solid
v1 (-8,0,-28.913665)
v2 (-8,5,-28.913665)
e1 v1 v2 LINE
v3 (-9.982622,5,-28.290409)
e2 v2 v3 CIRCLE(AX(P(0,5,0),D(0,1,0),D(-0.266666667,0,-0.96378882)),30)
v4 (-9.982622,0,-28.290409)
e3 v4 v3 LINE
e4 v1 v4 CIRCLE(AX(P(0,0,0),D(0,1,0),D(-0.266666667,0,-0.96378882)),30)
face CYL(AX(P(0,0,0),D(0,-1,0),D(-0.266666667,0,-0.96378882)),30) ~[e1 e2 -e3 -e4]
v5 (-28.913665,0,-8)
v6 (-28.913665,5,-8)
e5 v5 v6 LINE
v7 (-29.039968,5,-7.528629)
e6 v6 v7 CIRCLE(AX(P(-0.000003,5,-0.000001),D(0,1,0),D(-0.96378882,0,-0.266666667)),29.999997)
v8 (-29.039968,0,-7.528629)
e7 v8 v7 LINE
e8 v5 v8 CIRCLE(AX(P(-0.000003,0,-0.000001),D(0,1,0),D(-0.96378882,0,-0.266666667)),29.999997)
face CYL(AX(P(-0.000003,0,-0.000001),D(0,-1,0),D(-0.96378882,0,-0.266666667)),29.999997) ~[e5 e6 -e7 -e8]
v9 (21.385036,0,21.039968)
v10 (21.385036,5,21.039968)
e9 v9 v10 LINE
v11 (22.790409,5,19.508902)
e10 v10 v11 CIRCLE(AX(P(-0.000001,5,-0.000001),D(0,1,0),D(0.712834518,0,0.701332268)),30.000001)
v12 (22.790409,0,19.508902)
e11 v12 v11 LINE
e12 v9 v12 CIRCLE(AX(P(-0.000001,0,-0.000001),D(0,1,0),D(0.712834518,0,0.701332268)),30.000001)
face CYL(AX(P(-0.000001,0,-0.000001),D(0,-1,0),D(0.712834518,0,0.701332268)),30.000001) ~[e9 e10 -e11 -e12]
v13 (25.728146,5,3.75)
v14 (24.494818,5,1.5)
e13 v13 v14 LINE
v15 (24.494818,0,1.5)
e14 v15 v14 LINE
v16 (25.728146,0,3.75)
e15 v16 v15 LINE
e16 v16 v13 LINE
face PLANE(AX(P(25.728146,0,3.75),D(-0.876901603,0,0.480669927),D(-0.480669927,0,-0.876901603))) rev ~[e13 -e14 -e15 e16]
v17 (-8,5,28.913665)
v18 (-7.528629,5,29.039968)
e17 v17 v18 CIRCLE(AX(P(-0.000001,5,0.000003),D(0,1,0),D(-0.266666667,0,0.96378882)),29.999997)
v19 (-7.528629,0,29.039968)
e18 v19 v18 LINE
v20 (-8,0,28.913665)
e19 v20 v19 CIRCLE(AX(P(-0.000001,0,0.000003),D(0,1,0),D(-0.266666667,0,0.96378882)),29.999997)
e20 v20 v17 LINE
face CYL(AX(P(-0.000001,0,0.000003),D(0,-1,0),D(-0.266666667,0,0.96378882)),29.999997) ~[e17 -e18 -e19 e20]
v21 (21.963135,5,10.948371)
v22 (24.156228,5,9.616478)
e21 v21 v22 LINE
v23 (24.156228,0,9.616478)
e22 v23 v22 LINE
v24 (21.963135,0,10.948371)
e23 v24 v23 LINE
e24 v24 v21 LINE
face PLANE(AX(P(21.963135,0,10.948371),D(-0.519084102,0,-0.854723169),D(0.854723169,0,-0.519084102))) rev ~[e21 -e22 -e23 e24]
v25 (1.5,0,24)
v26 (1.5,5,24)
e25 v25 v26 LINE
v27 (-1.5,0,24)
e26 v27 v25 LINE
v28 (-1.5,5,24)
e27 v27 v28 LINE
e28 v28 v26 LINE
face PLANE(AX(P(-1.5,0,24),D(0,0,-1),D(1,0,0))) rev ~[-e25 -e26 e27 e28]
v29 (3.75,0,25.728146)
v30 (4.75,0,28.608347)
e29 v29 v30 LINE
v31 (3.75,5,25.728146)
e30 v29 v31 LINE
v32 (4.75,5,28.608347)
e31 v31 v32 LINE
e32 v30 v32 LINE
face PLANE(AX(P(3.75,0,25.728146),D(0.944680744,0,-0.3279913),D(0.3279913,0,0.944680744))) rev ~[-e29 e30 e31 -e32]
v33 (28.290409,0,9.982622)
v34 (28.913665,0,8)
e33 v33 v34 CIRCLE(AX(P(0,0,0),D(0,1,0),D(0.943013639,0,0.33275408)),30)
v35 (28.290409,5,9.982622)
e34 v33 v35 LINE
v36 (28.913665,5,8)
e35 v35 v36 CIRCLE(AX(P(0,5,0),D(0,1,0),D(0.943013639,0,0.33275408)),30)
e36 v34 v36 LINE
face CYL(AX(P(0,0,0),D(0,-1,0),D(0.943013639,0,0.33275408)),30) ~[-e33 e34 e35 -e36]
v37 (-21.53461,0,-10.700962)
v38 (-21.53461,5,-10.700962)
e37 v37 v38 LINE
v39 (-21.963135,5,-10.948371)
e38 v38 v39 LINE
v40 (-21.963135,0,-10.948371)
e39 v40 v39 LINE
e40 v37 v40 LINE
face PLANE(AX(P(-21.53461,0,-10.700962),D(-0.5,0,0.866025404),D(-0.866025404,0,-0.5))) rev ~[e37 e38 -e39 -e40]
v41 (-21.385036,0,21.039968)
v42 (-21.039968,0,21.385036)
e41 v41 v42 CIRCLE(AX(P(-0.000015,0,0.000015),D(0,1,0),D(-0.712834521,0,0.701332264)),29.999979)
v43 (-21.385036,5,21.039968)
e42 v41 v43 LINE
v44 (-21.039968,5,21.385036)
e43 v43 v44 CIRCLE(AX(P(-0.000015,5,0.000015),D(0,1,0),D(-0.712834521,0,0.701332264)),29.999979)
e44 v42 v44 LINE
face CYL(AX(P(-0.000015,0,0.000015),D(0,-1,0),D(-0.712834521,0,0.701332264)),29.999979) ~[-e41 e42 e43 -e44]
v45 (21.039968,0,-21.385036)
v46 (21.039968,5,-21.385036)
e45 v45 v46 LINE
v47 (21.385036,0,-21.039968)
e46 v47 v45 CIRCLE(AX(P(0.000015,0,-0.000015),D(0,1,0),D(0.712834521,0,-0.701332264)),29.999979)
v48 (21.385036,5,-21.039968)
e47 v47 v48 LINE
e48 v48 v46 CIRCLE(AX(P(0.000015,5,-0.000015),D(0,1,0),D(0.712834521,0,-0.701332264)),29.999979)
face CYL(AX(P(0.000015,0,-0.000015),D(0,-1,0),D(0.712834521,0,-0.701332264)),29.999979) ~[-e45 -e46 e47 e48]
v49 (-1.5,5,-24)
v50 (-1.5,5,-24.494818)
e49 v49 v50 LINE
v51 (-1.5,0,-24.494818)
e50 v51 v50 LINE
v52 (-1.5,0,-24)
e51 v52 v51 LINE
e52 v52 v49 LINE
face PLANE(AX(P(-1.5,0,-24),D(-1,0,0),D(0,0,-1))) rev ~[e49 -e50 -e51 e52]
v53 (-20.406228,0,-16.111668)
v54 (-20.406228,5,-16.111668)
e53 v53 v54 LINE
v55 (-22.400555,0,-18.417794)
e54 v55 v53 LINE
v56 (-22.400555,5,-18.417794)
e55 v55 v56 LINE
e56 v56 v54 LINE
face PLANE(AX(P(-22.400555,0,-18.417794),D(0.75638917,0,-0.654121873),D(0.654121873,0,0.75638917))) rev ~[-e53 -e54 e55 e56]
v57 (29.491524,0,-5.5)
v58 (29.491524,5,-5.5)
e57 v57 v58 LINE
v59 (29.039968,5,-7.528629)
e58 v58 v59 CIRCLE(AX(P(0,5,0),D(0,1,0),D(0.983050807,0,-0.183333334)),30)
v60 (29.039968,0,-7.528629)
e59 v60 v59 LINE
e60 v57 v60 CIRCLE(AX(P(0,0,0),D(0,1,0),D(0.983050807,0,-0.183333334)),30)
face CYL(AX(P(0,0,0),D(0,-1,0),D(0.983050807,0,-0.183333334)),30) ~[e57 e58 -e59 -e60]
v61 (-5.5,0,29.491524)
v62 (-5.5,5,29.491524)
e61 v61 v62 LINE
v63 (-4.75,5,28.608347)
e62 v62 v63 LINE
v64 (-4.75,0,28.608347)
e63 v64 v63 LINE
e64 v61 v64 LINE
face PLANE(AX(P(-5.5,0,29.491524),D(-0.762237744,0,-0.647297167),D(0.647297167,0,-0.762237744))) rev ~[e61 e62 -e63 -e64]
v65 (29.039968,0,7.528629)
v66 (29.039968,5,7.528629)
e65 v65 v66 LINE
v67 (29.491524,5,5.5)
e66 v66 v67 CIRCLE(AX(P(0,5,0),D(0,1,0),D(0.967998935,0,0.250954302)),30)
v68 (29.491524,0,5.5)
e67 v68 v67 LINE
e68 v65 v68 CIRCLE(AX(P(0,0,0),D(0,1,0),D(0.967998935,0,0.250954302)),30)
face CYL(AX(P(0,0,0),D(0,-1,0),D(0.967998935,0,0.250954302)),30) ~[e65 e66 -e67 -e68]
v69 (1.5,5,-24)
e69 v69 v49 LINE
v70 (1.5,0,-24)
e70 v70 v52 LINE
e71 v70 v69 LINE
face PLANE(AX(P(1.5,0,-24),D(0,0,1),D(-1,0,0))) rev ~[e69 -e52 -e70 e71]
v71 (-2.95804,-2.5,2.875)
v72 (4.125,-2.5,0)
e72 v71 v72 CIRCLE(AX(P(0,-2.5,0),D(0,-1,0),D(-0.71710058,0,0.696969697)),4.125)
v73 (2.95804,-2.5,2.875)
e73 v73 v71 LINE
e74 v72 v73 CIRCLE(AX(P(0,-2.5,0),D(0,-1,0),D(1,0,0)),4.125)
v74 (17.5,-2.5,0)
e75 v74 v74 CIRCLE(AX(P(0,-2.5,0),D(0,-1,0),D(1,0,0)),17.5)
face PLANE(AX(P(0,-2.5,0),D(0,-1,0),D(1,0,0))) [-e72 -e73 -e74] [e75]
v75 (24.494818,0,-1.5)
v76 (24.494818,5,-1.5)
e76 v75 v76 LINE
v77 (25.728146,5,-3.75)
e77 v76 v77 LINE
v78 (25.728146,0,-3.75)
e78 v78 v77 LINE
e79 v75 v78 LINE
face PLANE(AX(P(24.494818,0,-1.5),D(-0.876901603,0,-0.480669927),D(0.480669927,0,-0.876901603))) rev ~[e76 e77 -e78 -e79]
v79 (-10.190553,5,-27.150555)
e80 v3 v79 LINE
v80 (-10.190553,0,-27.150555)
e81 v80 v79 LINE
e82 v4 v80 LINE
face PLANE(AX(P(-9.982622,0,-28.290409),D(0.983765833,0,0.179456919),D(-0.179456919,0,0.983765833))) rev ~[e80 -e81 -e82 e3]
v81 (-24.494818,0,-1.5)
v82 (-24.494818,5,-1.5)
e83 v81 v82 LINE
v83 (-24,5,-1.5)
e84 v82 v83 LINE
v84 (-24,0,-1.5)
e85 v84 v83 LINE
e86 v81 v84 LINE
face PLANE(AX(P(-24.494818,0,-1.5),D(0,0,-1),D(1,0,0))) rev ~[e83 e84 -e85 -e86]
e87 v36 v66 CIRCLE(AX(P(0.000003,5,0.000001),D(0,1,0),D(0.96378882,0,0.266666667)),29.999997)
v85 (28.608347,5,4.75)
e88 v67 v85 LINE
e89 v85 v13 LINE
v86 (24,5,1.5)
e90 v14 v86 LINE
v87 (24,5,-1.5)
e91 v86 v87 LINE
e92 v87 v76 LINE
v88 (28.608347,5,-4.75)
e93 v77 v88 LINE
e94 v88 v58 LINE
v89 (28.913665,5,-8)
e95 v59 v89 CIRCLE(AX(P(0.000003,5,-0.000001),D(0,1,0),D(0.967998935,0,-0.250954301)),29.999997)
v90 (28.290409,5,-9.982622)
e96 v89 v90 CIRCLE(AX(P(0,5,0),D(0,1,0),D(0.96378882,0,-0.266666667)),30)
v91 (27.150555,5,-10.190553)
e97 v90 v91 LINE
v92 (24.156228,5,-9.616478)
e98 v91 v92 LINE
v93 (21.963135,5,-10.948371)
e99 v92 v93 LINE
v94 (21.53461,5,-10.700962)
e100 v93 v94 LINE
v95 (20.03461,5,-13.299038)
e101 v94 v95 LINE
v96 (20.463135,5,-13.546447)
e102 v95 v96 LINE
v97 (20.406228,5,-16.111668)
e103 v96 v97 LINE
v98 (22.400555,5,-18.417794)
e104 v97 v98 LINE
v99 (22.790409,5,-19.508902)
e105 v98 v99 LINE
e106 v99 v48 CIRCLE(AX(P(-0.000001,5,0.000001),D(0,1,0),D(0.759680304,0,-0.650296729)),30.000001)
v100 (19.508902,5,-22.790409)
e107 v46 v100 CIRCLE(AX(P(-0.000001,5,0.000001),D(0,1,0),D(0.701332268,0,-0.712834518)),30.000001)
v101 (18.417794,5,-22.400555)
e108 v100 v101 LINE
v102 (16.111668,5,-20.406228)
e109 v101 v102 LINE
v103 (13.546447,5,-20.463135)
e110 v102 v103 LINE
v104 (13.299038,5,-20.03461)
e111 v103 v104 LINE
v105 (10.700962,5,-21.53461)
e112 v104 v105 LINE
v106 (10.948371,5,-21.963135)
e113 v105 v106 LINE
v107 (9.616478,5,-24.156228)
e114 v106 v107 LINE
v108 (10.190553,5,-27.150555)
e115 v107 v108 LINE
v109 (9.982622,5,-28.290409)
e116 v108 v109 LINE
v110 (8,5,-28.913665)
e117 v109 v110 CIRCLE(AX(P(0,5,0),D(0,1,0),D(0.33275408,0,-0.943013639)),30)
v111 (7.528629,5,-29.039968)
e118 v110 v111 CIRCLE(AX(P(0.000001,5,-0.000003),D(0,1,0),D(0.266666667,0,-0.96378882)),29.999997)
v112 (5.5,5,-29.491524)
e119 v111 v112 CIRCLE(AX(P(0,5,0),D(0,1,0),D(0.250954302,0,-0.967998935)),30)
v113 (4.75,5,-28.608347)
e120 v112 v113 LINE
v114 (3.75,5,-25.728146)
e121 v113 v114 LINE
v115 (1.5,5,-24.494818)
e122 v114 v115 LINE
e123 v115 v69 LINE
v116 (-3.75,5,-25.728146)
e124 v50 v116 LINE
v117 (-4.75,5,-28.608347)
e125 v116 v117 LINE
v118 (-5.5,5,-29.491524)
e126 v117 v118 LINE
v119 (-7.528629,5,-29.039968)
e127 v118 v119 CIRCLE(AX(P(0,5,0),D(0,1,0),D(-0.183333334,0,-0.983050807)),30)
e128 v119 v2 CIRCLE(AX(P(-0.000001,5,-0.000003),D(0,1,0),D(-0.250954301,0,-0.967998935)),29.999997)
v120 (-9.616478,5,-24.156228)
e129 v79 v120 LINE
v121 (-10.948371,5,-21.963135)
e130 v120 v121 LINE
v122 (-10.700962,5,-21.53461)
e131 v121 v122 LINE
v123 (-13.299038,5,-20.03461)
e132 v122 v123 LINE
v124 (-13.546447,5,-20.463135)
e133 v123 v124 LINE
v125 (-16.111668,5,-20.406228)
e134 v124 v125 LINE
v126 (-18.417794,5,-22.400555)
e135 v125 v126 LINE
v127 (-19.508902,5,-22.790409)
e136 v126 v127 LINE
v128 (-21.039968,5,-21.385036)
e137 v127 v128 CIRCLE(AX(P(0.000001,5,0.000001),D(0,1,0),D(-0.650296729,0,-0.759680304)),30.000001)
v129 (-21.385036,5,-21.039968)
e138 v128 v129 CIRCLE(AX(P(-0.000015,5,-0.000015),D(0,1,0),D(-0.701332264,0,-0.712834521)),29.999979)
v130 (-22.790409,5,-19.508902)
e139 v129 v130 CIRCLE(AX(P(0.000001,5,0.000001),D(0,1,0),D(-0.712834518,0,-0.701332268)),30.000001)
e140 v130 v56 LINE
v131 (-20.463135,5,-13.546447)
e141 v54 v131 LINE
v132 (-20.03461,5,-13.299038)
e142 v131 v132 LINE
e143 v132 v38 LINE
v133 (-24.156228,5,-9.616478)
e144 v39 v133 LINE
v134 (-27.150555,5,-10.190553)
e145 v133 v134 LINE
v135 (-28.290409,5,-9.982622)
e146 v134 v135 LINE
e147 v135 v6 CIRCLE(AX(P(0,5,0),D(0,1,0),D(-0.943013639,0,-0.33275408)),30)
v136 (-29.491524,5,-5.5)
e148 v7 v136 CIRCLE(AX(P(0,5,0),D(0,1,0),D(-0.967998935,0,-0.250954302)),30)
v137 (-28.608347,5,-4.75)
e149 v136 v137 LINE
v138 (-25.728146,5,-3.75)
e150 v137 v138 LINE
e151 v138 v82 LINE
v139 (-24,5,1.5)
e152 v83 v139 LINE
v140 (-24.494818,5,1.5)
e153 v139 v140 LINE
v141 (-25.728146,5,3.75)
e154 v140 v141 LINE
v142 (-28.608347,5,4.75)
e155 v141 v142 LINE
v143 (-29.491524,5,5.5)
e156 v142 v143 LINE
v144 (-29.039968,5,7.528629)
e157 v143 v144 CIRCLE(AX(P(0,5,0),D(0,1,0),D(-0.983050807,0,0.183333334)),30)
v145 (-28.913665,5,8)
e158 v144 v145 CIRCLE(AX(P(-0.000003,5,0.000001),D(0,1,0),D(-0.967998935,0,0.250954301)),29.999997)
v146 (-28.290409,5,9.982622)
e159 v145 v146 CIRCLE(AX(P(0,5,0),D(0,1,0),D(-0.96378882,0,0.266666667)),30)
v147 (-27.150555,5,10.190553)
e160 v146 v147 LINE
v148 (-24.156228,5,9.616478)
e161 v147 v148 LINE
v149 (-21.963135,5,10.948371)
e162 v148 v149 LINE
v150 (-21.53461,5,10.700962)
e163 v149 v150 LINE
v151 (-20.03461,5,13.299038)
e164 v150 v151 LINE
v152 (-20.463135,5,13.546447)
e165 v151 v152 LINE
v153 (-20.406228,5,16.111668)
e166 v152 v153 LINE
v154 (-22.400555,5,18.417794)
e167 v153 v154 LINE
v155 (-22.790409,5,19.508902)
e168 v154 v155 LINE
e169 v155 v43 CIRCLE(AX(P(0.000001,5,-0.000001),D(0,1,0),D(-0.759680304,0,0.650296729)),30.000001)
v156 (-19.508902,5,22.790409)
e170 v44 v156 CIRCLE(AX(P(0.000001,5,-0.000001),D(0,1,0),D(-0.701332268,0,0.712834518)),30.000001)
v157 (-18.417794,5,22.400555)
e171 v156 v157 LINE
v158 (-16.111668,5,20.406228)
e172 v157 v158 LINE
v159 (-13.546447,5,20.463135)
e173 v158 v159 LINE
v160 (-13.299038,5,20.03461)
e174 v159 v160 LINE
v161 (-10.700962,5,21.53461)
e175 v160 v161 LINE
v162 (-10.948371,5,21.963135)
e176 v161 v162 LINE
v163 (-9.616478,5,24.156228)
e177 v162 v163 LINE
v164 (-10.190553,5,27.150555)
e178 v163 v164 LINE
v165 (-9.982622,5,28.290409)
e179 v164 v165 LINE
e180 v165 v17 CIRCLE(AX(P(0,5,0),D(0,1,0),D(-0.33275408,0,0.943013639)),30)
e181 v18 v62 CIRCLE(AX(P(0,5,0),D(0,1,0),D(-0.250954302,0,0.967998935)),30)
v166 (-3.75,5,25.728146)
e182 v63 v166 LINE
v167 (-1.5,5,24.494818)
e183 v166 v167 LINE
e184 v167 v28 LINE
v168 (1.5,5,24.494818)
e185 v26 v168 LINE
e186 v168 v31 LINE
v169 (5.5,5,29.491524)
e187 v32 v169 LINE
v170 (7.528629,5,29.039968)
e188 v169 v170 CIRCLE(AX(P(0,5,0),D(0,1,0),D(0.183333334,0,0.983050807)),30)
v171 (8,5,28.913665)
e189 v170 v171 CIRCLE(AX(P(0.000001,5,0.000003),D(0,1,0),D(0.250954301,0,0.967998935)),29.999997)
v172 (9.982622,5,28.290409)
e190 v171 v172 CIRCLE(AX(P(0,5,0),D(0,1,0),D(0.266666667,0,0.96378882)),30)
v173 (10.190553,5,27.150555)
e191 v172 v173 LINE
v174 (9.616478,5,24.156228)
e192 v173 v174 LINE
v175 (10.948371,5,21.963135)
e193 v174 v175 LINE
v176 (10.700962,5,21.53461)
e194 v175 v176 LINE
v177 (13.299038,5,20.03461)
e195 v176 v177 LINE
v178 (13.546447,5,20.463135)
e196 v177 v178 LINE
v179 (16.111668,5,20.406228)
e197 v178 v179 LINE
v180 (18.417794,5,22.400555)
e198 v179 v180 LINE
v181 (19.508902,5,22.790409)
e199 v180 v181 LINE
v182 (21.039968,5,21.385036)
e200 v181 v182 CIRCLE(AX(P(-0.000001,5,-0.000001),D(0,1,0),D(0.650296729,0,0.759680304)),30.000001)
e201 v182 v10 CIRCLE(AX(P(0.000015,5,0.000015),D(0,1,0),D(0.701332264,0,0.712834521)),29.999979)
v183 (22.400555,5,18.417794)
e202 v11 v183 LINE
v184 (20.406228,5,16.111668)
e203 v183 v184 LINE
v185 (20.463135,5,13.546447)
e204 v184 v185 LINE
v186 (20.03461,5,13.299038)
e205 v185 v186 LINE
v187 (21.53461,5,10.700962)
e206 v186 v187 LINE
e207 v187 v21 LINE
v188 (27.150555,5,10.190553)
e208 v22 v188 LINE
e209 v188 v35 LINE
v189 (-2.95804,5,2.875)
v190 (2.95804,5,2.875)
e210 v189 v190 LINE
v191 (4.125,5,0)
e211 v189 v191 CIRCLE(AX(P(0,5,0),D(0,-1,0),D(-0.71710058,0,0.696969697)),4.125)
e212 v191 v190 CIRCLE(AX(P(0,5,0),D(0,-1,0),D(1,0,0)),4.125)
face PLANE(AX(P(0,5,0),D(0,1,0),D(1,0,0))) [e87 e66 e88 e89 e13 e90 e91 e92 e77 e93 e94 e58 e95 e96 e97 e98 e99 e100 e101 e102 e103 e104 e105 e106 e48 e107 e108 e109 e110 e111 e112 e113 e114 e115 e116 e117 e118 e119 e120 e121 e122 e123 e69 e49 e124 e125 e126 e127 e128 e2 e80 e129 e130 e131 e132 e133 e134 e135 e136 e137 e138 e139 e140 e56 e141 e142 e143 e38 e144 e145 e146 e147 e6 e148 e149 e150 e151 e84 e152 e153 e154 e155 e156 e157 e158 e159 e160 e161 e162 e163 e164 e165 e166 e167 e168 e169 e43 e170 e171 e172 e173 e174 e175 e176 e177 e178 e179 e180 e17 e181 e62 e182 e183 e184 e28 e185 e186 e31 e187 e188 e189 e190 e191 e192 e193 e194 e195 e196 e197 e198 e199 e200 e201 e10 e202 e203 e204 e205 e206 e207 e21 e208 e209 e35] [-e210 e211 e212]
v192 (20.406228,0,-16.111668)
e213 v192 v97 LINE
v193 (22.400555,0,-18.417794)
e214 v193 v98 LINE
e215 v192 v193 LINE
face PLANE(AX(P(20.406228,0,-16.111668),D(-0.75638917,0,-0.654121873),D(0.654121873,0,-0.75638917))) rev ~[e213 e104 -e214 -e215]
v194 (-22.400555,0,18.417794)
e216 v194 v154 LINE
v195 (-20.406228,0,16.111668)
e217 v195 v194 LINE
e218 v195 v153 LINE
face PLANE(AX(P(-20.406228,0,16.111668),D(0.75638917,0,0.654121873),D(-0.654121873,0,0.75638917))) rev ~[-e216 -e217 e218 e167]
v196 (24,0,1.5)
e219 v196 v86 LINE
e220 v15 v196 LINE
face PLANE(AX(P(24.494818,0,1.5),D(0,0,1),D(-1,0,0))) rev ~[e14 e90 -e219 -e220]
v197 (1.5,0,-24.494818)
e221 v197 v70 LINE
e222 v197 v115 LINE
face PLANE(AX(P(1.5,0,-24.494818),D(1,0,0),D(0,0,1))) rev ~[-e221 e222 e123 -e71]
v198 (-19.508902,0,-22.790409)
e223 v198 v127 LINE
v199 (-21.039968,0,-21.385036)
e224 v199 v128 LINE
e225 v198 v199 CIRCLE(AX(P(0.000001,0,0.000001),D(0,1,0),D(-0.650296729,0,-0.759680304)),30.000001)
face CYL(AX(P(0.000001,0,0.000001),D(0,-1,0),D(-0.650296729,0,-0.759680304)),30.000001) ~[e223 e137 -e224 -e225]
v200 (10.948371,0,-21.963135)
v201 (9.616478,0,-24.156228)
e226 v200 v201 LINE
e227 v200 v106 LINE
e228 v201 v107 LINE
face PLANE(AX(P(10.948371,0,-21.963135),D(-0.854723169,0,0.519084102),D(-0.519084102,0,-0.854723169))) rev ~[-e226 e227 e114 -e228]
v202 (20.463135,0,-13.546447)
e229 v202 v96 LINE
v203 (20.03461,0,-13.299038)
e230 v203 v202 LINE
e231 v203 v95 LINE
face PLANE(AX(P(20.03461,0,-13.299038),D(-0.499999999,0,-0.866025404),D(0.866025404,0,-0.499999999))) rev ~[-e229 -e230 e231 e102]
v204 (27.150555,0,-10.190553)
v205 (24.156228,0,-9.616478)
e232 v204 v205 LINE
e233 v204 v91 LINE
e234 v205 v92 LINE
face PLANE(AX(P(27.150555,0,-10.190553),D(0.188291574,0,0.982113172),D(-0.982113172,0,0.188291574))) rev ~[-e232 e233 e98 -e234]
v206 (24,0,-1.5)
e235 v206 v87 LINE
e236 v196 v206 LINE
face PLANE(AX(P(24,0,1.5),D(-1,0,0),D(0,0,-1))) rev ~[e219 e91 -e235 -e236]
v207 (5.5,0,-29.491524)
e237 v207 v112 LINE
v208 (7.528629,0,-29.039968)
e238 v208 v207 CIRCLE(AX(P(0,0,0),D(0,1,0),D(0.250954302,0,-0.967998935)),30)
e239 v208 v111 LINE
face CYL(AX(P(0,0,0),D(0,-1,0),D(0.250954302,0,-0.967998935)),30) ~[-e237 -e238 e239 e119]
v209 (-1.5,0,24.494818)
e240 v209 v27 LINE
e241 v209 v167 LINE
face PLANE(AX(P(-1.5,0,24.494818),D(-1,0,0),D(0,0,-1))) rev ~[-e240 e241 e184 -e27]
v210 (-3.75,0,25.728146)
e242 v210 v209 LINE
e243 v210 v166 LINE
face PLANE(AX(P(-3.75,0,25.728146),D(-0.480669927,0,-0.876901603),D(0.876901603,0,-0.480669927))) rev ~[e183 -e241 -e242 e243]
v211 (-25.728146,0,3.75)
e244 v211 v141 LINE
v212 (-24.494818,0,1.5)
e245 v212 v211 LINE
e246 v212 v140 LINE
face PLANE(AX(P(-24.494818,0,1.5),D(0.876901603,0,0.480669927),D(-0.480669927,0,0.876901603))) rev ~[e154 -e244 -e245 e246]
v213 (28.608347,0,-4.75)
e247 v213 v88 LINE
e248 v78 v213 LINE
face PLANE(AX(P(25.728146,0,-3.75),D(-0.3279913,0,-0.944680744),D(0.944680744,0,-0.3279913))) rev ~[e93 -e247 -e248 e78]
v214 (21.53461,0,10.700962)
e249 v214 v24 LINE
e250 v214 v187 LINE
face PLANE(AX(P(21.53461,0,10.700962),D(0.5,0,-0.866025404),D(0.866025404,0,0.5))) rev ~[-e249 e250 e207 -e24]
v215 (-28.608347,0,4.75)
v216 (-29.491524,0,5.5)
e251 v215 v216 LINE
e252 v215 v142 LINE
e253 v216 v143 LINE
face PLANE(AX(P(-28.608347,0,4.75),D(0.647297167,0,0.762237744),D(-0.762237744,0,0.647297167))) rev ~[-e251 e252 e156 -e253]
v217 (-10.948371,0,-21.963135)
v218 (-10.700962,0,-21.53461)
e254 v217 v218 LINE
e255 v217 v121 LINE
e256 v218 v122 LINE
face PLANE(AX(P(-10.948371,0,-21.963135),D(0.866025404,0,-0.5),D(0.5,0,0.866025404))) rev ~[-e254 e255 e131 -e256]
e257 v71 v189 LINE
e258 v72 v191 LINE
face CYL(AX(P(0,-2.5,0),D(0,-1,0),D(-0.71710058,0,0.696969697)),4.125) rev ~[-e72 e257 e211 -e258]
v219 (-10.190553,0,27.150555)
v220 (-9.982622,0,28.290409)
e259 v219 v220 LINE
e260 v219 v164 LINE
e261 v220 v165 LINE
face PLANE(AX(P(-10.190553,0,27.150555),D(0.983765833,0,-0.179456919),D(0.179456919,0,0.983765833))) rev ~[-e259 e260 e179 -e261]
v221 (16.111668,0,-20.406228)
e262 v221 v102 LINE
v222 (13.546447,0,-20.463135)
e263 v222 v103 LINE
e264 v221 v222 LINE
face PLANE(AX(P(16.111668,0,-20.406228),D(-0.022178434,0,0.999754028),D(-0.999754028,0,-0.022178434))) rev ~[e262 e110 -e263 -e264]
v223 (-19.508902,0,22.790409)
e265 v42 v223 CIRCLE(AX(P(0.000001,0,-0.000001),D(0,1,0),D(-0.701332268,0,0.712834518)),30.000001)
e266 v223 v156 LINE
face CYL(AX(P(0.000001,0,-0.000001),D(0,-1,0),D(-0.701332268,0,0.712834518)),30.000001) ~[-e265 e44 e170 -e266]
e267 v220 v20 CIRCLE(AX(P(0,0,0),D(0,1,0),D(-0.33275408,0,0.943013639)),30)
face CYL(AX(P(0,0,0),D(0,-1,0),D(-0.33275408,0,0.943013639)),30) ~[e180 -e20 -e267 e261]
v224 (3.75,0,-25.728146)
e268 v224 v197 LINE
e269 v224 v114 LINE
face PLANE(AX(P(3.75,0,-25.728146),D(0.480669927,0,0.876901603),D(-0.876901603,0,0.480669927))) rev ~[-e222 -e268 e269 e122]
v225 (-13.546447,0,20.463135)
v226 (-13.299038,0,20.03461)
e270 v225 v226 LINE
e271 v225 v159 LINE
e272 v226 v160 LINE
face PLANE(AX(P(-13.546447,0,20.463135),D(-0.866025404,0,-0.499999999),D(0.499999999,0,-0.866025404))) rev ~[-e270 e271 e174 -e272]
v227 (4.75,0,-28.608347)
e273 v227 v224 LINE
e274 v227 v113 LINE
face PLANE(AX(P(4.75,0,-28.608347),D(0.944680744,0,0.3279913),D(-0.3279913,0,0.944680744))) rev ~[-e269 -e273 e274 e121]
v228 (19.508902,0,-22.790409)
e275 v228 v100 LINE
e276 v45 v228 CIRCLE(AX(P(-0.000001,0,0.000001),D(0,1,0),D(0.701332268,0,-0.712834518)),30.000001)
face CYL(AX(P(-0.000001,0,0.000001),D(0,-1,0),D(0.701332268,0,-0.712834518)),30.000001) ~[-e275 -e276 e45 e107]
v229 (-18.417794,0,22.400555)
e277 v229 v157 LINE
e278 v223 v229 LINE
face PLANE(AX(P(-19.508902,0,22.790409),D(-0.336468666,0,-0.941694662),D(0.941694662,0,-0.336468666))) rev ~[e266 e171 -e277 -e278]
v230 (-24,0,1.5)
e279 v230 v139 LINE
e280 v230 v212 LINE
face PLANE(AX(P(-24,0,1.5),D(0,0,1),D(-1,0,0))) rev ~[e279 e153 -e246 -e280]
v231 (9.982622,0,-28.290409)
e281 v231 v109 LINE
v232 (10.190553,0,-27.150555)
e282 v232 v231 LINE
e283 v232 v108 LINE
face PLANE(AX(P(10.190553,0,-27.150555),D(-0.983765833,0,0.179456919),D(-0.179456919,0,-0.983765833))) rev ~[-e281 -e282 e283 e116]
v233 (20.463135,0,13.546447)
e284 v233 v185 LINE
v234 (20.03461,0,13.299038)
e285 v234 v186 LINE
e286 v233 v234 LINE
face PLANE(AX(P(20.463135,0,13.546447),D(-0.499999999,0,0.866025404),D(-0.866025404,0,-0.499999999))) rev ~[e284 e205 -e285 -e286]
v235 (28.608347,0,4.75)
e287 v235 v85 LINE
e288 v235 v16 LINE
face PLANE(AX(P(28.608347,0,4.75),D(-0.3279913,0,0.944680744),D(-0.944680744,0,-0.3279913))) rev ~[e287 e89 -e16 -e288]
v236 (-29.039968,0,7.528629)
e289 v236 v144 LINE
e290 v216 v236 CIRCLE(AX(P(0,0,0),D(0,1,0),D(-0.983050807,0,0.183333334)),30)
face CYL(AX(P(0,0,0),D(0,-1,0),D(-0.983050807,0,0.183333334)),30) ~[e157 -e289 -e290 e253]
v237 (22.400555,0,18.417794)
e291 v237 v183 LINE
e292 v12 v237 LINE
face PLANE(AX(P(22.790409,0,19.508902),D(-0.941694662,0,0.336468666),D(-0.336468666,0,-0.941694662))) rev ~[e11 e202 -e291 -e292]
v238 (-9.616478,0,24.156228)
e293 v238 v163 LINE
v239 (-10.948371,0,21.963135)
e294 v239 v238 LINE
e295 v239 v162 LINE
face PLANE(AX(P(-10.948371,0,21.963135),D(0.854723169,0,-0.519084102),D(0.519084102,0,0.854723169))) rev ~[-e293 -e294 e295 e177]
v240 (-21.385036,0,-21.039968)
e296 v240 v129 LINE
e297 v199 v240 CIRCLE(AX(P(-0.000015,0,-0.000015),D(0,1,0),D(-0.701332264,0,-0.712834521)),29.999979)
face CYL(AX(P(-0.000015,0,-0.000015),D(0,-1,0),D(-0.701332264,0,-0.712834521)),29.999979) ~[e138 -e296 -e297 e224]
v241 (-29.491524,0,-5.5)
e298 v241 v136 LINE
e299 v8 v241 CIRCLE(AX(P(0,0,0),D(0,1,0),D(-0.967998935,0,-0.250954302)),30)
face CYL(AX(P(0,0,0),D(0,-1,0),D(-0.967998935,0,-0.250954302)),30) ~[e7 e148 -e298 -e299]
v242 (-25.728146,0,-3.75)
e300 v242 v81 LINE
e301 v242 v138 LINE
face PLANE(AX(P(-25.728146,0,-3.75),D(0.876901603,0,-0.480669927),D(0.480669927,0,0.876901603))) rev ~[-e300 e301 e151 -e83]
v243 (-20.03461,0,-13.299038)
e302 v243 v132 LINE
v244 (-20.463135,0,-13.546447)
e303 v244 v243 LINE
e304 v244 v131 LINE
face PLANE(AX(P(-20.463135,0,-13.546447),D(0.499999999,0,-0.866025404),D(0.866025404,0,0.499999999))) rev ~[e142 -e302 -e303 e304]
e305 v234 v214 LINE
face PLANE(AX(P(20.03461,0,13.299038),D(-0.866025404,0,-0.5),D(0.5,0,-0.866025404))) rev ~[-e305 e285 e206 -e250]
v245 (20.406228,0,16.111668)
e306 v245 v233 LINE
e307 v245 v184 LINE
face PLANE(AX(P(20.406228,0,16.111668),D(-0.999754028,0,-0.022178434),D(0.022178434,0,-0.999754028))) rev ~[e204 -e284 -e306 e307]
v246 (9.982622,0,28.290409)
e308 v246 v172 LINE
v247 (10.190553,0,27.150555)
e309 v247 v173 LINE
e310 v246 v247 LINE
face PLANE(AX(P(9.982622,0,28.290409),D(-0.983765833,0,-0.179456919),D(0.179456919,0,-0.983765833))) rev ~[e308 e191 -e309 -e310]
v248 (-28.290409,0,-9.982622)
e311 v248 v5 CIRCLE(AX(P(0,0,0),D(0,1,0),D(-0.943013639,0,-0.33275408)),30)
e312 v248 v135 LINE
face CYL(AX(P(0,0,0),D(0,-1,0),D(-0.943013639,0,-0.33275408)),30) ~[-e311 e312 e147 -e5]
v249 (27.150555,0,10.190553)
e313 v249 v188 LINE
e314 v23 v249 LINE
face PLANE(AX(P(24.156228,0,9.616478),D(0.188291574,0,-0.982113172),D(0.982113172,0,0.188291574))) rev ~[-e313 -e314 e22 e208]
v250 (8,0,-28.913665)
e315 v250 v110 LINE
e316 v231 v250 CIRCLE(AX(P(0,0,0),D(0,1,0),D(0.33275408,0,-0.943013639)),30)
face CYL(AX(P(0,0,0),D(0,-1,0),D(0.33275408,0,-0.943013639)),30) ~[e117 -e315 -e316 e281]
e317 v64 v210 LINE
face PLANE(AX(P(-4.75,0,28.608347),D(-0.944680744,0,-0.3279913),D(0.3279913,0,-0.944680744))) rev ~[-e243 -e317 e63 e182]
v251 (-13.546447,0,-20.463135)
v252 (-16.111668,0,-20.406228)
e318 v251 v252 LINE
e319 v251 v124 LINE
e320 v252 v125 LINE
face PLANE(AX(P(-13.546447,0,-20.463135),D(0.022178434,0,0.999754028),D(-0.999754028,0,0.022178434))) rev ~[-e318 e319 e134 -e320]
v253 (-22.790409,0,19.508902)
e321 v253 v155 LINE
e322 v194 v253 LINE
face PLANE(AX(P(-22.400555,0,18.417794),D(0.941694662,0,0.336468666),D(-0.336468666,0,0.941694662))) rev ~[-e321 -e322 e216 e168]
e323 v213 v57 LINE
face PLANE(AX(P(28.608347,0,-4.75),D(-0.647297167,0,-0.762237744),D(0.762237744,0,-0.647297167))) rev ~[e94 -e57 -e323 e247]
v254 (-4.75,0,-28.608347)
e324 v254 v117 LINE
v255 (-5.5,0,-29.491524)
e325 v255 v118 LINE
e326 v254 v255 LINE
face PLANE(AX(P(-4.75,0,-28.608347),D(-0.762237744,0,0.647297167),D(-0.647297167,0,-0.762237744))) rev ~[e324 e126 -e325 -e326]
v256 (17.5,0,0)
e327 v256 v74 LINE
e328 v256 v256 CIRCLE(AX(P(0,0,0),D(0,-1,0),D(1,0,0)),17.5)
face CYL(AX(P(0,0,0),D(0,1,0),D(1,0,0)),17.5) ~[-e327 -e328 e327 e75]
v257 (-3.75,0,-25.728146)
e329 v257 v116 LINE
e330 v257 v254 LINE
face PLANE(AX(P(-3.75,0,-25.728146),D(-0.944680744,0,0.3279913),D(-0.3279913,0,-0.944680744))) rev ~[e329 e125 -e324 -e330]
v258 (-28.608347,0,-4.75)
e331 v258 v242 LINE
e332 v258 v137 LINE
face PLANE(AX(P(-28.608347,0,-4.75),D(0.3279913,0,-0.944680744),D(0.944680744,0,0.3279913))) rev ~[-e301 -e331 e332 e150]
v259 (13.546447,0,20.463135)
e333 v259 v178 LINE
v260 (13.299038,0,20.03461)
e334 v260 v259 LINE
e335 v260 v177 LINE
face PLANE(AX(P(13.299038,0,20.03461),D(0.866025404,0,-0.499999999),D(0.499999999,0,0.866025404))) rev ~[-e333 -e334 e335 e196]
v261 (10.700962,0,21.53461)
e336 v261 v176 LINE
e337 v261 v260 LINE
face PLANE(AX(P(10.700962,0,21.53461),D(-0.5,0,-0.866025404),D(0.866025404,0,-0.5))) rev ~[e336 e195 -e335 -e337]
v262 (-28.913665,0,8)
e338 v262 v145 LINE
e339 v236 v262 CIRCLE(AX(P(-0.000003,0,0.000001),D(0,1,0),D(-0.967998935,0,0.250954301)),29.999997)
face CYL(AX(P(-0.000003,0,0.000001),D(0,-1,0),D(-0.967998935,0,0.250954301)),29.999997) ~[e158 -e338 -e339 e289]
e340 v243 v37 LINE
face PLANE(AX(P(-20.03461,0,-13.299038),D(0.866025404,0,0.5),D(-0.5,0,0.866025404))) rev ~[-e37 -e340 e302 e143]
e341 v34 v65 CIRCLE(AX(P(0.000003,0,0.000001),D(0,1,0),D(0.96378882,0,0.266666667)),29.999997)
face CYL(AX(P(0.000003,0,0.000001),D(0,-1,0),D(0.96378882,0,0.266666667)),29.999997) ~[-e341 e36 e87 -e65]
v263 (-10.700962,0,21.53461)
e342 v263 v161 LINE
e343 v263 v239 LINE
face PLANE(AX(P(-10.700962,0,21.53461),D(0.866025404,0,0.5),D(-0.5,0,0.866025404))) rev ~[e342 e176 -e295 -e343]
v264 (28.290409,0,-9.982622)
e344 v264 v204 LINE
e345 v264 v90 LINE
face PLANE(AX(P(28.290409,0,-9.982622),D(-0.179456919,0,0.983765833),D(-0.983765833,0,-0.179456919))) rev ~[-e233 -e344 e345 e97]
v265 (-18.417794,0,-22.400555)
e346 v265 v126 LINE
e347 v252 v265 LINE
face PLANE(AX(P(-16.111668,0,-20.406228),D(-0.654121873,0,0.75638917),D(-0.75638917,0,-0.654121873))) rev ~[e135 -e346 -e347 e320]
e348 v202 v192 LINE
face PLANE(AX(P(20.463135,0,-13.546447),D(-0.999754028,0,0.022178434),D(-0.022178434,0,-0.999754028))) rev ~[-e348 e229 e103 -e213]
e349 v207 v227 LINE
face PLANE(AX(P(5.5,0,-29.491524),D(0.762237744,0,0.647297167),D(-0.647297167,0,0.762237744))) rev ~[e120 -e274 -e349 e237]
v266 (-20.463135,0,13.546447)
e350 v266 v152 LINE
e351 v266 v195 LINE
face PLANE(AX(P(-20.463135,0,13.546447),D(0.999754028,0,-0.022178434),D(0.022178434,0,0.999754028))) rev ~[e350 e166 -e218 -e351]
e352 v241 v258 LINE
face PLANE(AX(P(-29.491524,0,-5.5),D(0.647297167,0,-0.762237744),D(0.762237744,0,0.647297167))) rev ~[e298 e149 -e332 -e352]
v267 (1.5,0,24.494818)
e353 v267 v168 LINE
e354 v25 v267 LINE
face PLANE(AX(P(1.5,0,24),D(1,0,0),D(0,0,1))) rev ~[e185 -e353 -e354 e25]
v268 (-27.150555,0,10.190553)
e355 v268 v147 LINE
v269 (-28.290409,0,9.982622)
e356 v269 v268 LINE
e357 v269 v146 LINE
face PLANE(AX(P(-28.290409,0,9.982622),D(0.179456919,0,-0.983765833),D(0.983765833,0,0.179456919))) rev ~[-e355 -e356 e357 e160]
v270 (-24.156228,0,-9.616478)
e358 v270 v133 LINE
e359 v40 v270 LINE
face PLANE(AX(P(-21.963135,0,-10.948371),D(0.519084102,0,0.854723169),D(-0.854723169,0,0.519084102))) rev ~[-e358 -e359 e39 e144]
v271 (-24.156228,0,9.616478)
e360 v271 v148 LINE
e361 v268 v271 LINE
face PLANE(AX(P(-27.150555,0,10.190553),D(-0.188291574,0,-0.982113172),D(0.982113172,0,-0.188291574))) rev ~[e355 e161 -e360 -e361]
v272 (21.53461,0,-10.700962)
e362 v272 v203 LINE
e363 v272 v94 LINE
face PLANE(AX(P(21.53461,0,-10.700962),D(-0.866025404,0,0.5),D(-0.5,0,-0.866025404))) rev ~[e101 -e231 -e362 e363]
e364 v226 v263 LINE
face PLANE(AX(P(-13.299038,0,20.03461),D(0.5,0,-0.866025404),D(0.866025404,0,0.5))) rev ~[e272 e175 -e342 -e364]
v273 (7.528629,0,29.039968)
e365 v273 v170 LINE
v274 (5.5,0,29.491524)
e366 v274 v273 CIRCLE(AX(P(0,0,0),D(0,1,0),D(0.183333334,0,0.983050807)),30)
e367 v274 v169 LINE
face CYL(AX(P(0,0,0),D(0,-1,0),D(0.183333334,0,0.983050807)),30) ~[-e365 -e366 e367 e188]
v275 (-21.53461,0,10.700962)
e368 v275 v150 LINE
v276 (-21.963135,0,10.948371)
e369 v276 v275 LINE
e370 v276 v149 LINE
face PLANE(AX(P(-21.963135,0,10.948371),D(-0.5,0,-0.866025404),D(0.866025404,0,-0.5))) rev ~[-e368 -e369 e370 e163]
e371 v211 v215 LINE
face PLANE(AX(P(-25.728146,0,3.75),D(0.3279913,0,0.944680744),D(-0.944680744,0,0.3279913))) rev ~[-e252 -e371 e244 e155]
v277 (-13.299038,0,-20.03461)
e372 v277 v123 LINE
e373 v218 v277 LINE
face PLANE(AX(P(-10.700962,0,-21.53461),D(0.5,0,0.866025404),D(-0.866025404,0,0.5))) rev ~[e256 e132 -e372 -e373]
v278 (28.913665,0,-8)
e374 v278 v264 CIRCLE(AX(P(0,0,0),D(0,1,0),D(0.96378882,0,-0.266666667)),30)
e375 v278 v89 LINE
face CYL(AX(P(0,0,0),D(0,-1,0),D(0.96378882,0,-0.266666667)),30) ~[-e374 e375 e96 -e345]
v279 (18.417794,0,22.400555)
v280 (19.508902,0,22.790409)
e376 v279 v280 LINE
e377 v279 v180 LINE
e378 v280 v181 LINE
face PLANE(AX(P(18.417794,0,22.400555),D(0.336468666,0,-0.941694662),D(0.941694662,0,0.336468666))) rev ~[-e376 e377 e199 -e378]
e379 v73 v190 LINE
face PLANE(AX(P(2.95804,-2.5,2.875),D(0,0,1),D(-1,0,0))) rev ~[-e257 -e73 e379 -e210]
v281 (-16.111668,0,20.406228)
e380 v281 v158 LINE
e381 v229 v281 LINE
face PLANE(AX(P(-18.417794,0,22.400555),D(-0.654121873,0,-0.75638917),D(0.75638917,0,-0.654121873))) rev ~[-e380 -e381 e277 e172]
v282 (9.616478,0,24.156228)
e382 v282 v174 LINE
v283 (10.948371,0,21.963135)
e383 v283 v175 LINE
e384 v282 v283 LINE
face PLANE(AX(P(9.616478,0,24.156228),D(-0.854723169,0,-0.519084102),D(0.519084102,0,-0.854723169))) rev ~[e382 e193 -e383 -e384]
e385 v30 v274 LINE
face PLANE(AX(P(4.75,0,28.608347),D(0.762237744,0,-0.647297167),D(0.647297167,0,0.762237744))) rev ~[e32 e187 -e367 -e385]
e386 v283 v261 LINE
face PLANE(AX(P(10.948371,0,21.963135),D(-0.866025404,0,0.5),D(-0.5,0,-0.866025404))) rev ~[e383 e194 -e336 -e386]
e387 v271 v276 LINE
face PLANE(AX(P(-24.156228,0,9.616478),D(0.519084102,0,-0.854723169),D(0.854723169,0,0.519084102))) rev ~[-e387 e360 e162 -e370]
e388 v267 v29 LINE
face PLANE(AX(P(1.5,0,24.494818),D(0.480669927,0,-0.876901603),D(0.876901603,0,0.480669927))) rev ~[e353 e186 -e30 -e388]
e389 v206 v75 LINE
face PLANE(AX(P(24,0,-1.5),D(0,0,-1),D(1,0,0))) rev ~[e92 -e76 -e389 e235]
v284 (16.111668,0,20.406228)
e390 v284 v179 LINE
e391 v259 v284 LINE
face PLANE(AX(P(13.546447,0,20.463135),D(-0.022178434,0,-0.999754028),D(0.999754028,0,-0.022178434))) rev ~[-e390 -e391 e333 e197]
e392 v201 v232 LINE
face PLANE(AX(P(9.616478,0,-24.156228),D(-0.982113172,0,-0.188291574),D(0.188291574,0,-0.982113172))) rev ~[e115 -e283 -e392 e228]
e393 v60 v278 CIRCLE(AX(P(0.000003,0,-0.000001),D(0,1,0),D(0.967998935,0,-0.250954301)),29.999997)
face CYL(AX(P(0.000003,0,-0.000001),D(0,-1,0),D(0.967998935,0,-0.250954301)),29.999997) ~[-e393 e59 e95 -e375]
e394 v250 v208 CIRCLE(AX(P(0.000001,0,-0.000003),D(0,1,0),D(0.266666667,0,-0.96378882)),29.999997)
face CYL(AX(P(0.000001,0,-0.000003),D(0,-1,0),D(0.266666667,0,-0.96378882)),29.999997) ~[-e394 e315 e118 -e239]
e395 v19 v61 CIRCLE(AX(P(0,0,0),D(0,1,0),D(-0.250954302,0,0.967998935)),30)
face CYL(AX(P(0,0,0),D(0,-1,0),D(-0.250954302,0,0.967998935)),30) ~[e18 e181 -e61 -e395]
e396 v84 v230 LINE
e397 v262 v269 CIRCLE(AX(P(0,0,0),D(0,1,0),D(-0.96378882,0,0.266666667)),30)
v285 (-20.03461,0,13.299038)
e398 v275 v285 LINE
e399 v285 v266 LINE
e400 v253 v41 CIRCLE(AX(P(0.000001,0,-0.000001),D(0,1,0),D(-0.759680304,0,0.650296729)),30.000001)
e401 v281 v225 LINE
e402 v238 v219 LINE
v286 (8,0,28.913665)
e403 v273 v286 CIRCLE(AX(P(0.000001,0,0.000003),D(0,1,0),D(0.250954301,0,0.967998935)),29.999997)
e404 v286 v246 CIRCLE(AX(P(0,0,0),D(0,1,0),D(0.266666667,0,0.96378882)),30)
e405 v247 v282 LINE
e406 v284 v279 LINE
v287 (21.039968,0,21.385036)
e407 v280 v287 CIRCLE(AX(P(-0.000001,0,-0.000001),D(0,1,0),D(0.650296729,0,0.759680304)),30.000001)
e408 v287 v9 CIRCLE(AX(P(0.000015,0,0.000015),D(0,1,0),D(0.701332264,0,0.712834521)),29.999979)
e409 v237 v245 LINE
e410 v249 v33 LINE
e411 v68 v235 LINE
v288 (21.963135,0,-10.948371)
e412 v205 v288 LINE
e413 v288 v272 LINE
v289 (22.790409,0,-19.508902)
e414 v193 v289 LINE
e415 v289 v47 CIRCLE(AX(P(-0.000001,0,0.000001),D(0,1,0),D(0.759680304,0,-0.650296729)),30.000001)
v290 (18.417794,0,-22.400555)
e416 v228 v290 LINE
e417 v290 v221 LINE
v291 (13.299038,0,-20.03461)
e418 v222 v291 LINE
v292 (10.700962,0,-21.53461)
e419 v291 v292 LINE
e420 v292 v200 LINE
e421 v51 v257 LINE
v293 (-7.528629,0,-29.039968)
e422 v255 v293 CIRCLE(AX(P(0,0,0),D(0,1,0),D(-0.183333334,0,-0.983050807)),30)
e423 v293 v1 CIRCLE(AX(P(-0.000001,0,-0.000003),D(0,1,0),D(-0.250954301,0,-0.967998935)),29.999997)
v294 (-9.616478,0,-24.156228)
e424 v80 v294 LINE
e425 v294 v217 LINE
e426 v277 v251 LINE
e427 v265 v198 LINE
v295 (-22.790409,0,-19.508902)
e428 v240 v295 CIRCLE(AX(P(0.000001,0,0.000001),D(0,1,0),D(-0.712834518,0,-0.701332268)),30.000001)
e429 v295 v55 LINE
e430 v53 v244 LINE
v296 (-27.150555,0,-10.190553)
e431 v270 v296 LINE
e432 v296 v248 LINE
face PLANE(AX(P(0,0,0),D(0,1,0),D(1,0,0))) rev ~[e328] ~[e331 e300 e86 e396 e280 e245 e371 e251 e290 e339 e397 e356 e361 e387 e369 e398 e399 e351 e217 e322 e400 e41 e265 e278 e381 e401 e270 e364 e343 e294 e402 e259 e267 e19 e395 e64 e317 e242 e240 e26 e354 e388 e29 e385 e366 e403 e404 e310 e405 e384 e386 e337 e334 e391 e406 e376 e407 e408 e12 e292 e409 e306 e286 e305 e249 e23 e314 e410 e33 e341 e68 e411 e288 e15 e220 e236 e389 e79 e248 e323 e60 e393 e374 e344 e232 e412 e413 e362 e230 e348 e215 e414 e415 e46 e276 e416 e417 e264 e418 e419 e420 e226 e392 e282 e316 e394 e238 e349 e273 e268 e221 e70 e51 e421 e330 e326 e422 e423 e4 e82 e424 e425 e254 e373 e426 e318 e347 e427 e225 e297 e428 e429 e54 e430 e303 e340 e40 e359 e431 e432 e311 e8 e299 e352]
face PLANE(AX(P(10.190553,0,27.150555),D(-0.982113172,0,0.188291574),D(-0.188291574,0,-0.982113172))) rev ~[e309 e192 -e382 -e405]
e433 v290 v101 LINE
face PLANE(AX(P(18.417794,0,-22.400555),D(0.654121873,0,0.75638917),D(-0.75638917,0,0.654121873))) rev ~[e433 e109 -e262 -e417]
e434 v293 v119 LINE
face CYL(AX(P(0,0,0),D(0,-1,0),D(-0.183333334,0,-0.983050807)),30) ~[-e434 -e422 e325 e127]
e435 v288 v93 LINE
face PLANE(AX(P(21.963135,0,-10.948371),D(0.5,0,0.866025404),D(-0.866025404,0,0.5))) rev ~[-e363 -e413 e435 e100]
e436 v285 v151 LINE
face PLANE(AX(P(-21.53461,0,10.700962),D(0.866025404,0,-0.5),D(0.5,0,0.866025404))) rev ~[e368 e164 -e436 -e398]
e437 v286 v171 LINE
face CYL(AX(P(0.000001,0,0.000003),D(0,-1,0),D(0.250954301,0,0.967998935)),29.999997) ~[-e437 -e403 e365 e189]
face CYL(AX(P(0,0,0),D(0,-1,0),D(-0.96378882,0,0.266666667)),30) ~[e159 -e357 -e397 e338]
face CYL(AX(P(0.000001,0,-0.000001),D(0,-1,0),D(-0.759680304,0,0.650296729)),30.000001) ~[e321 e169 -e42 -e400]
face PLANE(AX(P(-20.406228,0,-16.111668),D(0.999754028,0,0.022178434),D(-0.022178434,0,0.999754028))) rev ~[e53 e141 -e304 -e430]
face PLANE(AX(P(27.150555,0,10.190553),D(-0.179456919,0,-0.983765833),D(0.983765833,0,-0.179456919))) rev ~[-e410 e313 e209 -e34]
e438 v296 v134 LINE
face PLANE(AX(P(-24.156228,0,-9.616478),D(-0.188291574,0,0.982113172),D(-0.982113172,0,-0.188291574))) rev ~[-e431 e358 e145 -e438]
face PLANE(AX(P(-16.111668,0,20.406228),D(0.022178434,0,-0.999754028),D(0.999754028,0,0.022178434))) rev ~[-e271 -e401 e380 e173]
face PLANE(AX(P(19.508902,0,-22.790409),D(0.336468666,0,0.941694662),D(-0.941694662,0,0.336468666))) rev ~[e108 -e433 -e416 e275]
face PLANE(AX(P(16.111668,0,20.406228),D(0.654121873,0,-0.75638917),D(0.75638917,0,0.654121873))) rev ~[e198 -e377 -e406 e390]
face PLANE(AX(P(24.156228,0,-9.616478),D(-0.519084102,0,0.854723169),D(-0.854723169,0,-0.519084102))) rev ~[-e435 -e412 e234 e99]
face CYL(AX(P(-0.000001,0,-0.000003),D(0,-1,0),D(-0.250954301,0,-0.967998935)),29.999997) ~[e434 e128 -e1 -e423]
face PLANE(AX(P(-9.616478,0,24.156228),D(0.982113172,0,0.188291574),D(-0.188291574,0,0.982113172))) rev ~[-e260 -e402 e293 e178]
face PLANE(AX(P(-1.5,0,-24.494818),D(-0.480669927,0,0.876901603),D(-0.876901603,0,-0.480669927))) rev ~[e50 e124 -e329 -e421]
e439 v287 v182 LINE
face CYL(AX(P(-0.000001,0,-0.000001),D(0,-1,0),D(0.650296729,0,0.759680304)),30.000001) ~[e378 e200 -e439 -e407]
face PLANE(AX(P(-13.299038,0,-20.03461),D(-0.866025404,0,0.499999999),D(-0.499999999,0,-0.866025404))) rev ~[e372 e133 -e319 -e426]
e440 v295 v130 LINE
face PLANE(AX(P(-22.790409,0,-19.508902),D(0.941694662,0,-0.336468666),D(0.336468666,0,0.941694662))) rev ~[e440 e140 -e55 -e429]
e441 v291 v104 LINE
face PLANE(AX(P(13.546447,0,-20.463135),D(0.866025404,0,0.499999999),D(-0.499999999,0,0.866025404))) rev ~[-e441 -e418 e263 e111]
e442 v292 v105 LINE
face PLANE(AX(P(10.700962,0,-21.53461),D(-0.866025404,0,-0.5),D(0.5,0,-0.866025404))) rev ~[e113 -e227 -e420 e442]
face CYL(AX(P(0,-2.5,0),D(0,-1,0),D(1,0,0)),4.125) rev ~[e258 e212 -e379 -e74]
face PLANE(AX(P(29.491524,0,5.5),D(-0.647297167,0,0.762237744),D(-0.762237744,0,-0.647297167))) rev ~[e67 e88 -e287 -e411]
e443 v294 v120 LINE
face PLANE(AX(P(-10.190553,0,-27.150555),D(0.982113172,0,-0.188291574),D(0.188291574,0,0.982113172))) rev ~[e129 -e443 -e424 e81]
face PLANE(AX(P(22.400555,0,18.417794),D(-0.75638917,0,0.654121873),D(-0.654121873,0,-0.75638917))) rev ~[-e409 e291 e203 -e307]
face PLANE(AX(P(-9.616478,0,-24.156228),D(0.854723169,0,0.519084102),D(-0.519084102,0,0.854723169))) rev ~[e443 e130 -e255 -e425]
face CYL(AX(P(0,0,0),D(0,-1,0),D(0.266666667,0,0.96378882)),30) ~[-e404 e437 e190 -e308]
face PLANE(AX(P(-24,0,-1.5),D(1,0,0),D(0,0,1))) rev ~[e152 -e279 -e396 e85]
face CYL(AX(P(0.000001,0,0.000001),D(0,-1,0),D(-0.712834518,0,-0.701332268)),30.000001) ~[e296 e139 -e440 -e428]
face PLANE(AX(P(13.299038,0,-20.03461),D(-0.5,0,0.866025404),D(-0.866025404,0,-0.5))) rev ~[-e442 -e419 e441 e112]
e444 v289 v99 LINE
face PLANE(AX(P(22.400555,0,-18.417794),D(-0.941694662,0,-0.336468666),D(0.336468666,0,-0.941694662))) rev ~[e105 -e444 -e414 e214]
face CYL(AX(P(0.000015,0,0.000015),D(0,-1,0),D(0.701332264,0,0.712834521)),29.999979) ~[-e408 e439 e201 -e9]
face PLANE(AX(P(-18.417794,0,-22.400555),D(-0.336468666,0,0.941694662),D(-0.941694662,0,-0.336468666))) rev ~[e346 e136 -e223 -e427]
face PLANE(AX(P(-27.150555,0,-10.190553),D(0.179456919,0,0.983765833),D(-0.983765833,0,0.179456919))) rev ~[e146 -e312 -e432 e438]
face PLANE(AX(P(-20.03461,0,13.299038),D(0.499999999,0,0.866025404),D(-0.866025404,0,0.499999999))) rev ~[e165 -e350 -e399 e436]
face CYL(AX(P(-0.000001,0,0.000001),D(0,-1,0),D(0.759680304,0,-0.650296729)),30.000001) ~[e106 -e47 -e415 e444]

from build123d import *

# Parameters (mm, degrees)
BOSS_EXTRUDE1_DEPTH     = 5
SKETCH5_R               = 17.5
BOSS_EXTRUDE2_DEPTH     = 2.5
CUT_EXTRUDE2_DEPTH      = 1
CUT_EXTRUDE2_DEPTH_BACK = 8.5


with BuildPart() as part:
    # Sketch1 → Boss-Extrude1 (new body)
    with BuildSketch(Plane(origin=(0, 0, 0), x_dir=(1, 0, 0), z_dir=(0, 1, 0))):
        with BuildLine():
            Line((-1.5, 24.494818027), (-3.75, 25.728146066))
            Line((-3.75, 25.728146066), (-4.75, 28.608346684))
            Line((-4.75, 28.608346684), (-5.5, 29.491524206))
            ThreePointArc((-5.5, 29.491524206), (-6.518225952, 29.283318296), (-7.528629065, 29.039968051))
            ThreePointArc((-7.528629065, 29.039968051), (-7.764571353, 28.977774789), (-8, 28.91366459))
            ThreePointArc((-8, 28.91366459), (-8.996709886, 28.619210528), (-9.982622382, 28.290409159))
            Line((-9.982622382, 28.290409159), (-10.190552674, 27.150554989))
            Line((-10.190552674, 27.150554989), (-9.616477769, 24.156228086))
            Line((-9.616477769, 24.156228086), (-10.948370908, 21.963134673))
            Line((-10.948370908, 21.963134673), (-10.700961894, 21.534609691))
            Line((-10.700961894, 21.534609691), (-13.299038106, 20.034609691))
            Line((-13.299038106, 20.034609691), (-13.546447119, 20.463134673))
            Line((-13.546447119, 20.463134673), (-16.111668297, 20.406228086))
            Line((-16.111668297, 20.406228086), (-18.41779401, 22.400554989))
            Line((-18.41779401, 22.400554989), (-19.508901824, 22.790409159))
            ThreePointArc((-19.508901824, 22.790409159), (-20.28660841, 22.100984575), (-21.039968051, 21.385035525))
            ThreePointArc((-21.039968051, 21.385035525), (-21.213203436, 21.213203436), (-21.385035525, 21.039968051))
            ThreePointArc((-21.385035525, 21.039968051), (-22.100984575, 20.28660841), (-22.790409159, 19.508901824))
            Line((-22.790409159, 19.508901824), (-22.400554989, 18.41779401))
            Line((-22.400554989, 18.41779401), (-20.406228086, 16.111668297))
            Line((-20.406228086, 16.111668297), (-20.463134673, 13.546447119))
            Line((-20.463134673, 13.546447119), (-20.034609691, 13.299038106))
            Line((-20.034609691, 13.299038106), (-21.534609691, 10.700961894))
            Line((-21.534609691, 10.700961894), (-21.963134673, 10.948370908))
            Line((-21.963134673, 10.948370908), (-24.156228086, 9.616477769))
            Line((-24.156228086, 9.616477769), (-27.150554989, 10.190552674))
            Line((-27.150554989, 10.190552674), (-28.290409159, 9.982622382))
            ThreePointArc((-28.290409159, 9.982622382), (-28.619210528, 8.996709886), (-28.91366459, 8))
            ThreePointArc((-28.91366459, 8), (-28.977774789, 7.764571353), (-29.039968051, 7.528629065))
            ThreePointArc((-29.039968051, 7.528629065), (-29.283318296, 6.518225952), (-29.491524206, 5.5))
            Line((-29.491524206, 5.5), (-28.608346684, 4.75))
            Line((-28.608346684, 4.75), (-25.728146066, 3.75))
            Line((-25.728146066, 3.75), (-24.494818027, 1.5))
            Line((-24.494818027, 1.5), (-24, 1.5))
            Line((-24, 1.5), (-24, -1.5))
            Line((-24, -1.5), (-24.494818027, -1.5))
            Line((-24.494818027, -1.5), (-25.728146066, -3.75))
            Line((-25.728146066, -3.75), (-28.608346684, -4.75))
            Line((-28.608346684, -4.75), (-29.491524206, -5.5))
            ThreePointArc((-29.491524206, -5.5), (-29.283318296, -6.518225952), (-29.039968051, -7.528629065))
            ThreePointArc((-29.039968051, -7.528629065), (-28.977774789, -7.764571353), (-28.91366459, -8))
            ThreePointArc((-28.91366459, -8), (-28.619210528, -8.996709886), (-28.290409159, -9.982622382))
            Line((-28.290409159, -9.982622382), (-27.150554989, -10.190552674))
            Line((-27.150554989, -10.190552674), (-24.156228086, -9.616477769))
            Line((-24.156228086, -9.616477769), (-21.963134673, -10.948370908))
            Line((-21.963134673, -10.948370908), (-21.534609691, -10.700961894))
            Line((-21.534609691, -10.700961894), (-20.034609691, -13.299038106))
            Line((-20.034609691, -13.299038106), (-20.463134673, -13.546447119))
            Line((-20.463134673, -13.546447119), (-20.406228086, -16.111668297))
            Line((-20.406228086, -16.111668297), (-22.400554989, -18.41779401))
            Line((-22.400554989, -18.41779401), (-22.790409159, -19.508901824))
            ThreePointArc((-22.790409159, -19.508901824), (-22.100984575, -20.28660841), (-21.385035525, -21.039968051))
            ThreePointArc((-21.385035525, -21.039968051), (-21.213203436, -21.213203436), (-21.039968051, -21.385035525))
            ThreePointArc((-21.039968051, -21.385035525), (-20.28660841, -22.100984575), (-19.508901824, -22.790409159))
            Line((-19.508901824, -22.790409159), (-18.41779401, -22.400554989))
            Line((-18.41779401, -22.400554989), (-16.111668297, -20.406228086))
            Line((-16.111668297, -20.406228086), (-13.546447119, -20.463134673))
            Line((-13.546447119, -20.463134673), (-13.299038106, -20.034609691))
            Line((-13.299038106, -20.034609691), (-10.700961894, -21.534609691))
            Line((-10.700961894, -21.534609691), (-10.948370908, -21.963134673))
            Line((-10.948370908, -21.963134673), (-9.616477769, -24.156228086))
            Line((-9.616477769, -24.156228086), (-10.190552674, -27.150554989))
            Line((-10.190552674, -27.150554989), (-9.982622382, -28.290409159))
            ThreePointArc((-9.982622382, -28.290409159), (-8.996709886, -28.619210528), (-8, -28.91366459))
            ThreePointArc((-8, -28.91366459), (-7.764571353, -28.977774789), (-7.528629065, -29.039968051))
            ThreePointArc((-7.528629065, -29.039968051), (-6.518225952, -29.283318296), (-5.5, -29.491524206))
            Line((-5.5, -29.491524206), (-4.75, -28.608346684))
            Line((-4.75, -28.608346684), (-3.75, -25.728146066))
            Line((-3.75, -25.728146066), (-1.5, -24.494818027))
            Line((-1.5, -24.494818027), (-1.5, -24))
            Line((-1.5, -24), (1.5, -24))
            Line((1.5, -24), (1.5, -24.494818027))
            Line((1.5, -24.494818027), (3.75, -25.728146066))
            Line((3.75, -25.728146066), (4.75, -28.608346684))
            Line((4.75, -28.608346684), (5.5, -29.491524206))
            ThreePointArc((5.5, -29.491524206), (6.518225952, -29.283318296), (7.528629065, -29.039968051))
            ThreePointArc((7.528629065, -29.039968051), (7.764571353, -28.977774789), (8, -28.91366459))
            ThreePointArc((8, -28.91366459), (8.996709886, -28.619210528), (9.982622382, -28.290409159))
            Line((9.982622382, -28.290409159), (10.190552674, -27.150554989))
            Line((10.190552674, -27.150554989), (9.616477769, -24.156228086))
            Line((9.616477769, -24.156228086), (10.948370908, -21.963134673))
            Line((10.948370908, -21.963134673), (10.700961894, -21.534609691))
            Line((10.700961894, -21.534609691), (13.299038106, -20.034609691))
            Line((13.299038106, -20.034609691), (13.546447119, -20.463134673))
            Line((13.546447119, -20.463134673), (16.111668297, -20.406228086))
            Line((16.111668297, -20.406228086), (18.41779401, -22.400554989))
            Line((18.41779401, -22.400554989), (19.508901824, -22.790409159))
            ThreePointArc((19.508901824, -22.790409159), (20.28660841, -22.100984575), (21.039968051, -21.385035525))
            ThreePointArc((21.039968051, -21.385035525), (21.213203436, -21.213203436), (21.385035525, -21.039968051))
            ThreePointArc((21.385035525, -21.039968051), (22.100984575, -20.28660841), (22.790409159, -19.508901824))
            Line((22.790409159, -19.508901824), (22.400554989, -18.41779401))
            Line((22.400554989, -18.41779401), (20.406228086, -16.111668297))
            Line((20.406228086, -16.111668297), (20.463134673, -13.546447119))
            Line((20.463134673, -13.546447119), (20.034609691, -13.299038106))
            Line((20.034609691, -13.299038106), (21.534609691, -10.700961894))
            Line((21.534609691, -10.700961894), (21.963134673, -10.948370908))
            Line((21.963134673, -10.948370908), (24.156228086, -9.616477769))
            Line((24.156228086, -9.616477769), (27.150554989, -10.190552674))
            Line((27.150554989, -10.190552674), (28.290409159, -9.982622382))
            ThreePointArc((28.290409159, -9.982622382), (28.619210528, -8.996709886), (28.91366459, -8))
            ThreePointArc((28.91366459, -8), (28.977774789, -7.764571353), (29.039968051, -7.528629065))
            ThreePointArc((29.039968051, -7.528629065), (29.283318296, -6.518225952), (29.491524206, -5.5))
            Line((29.491524206, -5.5), (28.608346684, -4.75))
            Line((28.608346684, -4.75), (25.728146066, -3.75))
            Line((25.728146066, -3.75), (24.494818027, -1.5))
            Line((24.494818027, -1.5), (24, -1.5))
            Line((24, -1.5), (24, 1.5))
            Line((24, 1.5), (24.494818027, 1.5))
            Line((24.494818027, 1.5), (25.728146066, 3.75))
            Line((25.728146066, 3.75), (28.608346684, 4.75))
            Line((28.608346684, 4.75), (29.491524206, 5.5))
            ThreePointArc((29.491524206, 5.5), (29.283318296, 6.518225952), (29.039968051, 7.528629065))
            ThreePointArc((29.039968051, 7.528629065), (28.977774789, 7.764571353), (28.91366459, 8))
            ThreePointArc((28.91366459, 8), (28.619210528, 8.996709886), (28.290409159, 9.982622382))
            Line((28.290409159, 9.982622382), (27.150554989, 10.190552674))
            Line((27.150554989, 10.190552674), (24.156228086, 9.616477769))
            Line((24.156228086, 9.616477769), (21.963134673, 10.948370908))
            Line((21.963134673, 10.948370908), (21.534609691, 10.700961894))
            Line((21.534609691, 10.700961894), (20.034609691, 13.299038106))
            Line((20.034609691, 13.299038106), (20.463134673, 13.546447119))
            Line((20.463134673, 13.546447119), (20.406228086, 16.111668297))
            Line((20.406228086, 16.111668297), (22.400554989, 18.41779401))
            Line((22.400554989, 18.41779401), (22.790409159, 19.508901824))
            ThreePointArc((22.790409159, 19.508901824), (22.100984575, 20.28660841), (21.385035525, 21.039968051))
            ThreePointArc((21.385035525, 21.039968051), (21.213203436, 21.213203436), (21.039968051, 21.385035525))
            ThreePointArc((21.039968051, 21.385035525), (20.28660841, 22.100984575), (19.508901824, 22.790409159))
            Line((19.508901824, 22.790409159), (18.41779401, 22.400554989))
            Line((18.41779401, 22.400554989), (16.111668297, 20.406228086))
            Line((16.111668297, 20.406228086), (13.546447119, 20.463134673))
            Line((13.546447119, 20.463134673), (13.299038106, 20.034609691))
            Line((13.299038106, 20.034609691), (10.700961894, 21.534609691))
            Line((10.700961894, 21.534609691), (10.948370908, 21.963134673))
            Line((10.948370908, 21.963134673), (9.616477769, 24.156228086))
            Line((9.616477769, 24.156228086), (10.190552674, 27.150554989))
            Line((10.190552674, 27.150554989), (9.982622382, 28.290409159))
            ThreePointArc((9.982622382, 28.290409159), (8.996709886, 28.619210528), (8, 28.91366459))
            ThreePointArc((8, 28.91366459), (7.764571353, 28.977774789), (7.528629065, 29.039968051))
            ThreePointArc((7.528629065, 29.039968051), (6.518225952, 29.283318296), (5.5, 29.491524206))
            Line((5.5, 29.491524206), (4.75, 28.608346684))
            Line((4.75, 28.608346684), (3.75, 25.728146066))
            Line((3.75, 25.728146066), (1.5, 24.494818027))
            Line((1.5, 24.494818027), (1.5, 24))
            Line((1.5, 24), (-1.5, 24))
            Line((-1.5, 24), (-1.5, 24.494818027))
        make_face()
    extrude(amount=BOSS_EXTRUDE1_DEPTH)

    # Sketch5 → Boss-Extrude2 (add)
    with BuildSketch(Plane.XZ):
        Circle(SKETCH5_R)
    extrude(amount=BOSS_EXTRUDE2_DEPTH)

    # Sketch6 → Cut-Extrude2 (cut, two sides)
    with BuildSketch(Plane.XZ.offset(2.5)) as cut_extrude2_sk:
        with BuildLine():
            ThreePointArc((4.125, 0), (3.82214204, 1.551404275), (2.958039892, 2.875))
            Line((2.958039892, 2.875), (-2.958039892, 2.875))
            ThreePointArc((-2.958039892, 2.875), (-1.551404275, -3.82214204), (4.125, 0))
        make_face()
    extrude(amount=CUT_EXTRUDE2_DEPTH, mode=Mode.SUBTRACT)
    extrude(cut_extrude2_sk.sketch, amount=-CUT_EXTRUDE2_DEPTH_BACK, mode=Mode.SUBTRACT)


solid = part.part
